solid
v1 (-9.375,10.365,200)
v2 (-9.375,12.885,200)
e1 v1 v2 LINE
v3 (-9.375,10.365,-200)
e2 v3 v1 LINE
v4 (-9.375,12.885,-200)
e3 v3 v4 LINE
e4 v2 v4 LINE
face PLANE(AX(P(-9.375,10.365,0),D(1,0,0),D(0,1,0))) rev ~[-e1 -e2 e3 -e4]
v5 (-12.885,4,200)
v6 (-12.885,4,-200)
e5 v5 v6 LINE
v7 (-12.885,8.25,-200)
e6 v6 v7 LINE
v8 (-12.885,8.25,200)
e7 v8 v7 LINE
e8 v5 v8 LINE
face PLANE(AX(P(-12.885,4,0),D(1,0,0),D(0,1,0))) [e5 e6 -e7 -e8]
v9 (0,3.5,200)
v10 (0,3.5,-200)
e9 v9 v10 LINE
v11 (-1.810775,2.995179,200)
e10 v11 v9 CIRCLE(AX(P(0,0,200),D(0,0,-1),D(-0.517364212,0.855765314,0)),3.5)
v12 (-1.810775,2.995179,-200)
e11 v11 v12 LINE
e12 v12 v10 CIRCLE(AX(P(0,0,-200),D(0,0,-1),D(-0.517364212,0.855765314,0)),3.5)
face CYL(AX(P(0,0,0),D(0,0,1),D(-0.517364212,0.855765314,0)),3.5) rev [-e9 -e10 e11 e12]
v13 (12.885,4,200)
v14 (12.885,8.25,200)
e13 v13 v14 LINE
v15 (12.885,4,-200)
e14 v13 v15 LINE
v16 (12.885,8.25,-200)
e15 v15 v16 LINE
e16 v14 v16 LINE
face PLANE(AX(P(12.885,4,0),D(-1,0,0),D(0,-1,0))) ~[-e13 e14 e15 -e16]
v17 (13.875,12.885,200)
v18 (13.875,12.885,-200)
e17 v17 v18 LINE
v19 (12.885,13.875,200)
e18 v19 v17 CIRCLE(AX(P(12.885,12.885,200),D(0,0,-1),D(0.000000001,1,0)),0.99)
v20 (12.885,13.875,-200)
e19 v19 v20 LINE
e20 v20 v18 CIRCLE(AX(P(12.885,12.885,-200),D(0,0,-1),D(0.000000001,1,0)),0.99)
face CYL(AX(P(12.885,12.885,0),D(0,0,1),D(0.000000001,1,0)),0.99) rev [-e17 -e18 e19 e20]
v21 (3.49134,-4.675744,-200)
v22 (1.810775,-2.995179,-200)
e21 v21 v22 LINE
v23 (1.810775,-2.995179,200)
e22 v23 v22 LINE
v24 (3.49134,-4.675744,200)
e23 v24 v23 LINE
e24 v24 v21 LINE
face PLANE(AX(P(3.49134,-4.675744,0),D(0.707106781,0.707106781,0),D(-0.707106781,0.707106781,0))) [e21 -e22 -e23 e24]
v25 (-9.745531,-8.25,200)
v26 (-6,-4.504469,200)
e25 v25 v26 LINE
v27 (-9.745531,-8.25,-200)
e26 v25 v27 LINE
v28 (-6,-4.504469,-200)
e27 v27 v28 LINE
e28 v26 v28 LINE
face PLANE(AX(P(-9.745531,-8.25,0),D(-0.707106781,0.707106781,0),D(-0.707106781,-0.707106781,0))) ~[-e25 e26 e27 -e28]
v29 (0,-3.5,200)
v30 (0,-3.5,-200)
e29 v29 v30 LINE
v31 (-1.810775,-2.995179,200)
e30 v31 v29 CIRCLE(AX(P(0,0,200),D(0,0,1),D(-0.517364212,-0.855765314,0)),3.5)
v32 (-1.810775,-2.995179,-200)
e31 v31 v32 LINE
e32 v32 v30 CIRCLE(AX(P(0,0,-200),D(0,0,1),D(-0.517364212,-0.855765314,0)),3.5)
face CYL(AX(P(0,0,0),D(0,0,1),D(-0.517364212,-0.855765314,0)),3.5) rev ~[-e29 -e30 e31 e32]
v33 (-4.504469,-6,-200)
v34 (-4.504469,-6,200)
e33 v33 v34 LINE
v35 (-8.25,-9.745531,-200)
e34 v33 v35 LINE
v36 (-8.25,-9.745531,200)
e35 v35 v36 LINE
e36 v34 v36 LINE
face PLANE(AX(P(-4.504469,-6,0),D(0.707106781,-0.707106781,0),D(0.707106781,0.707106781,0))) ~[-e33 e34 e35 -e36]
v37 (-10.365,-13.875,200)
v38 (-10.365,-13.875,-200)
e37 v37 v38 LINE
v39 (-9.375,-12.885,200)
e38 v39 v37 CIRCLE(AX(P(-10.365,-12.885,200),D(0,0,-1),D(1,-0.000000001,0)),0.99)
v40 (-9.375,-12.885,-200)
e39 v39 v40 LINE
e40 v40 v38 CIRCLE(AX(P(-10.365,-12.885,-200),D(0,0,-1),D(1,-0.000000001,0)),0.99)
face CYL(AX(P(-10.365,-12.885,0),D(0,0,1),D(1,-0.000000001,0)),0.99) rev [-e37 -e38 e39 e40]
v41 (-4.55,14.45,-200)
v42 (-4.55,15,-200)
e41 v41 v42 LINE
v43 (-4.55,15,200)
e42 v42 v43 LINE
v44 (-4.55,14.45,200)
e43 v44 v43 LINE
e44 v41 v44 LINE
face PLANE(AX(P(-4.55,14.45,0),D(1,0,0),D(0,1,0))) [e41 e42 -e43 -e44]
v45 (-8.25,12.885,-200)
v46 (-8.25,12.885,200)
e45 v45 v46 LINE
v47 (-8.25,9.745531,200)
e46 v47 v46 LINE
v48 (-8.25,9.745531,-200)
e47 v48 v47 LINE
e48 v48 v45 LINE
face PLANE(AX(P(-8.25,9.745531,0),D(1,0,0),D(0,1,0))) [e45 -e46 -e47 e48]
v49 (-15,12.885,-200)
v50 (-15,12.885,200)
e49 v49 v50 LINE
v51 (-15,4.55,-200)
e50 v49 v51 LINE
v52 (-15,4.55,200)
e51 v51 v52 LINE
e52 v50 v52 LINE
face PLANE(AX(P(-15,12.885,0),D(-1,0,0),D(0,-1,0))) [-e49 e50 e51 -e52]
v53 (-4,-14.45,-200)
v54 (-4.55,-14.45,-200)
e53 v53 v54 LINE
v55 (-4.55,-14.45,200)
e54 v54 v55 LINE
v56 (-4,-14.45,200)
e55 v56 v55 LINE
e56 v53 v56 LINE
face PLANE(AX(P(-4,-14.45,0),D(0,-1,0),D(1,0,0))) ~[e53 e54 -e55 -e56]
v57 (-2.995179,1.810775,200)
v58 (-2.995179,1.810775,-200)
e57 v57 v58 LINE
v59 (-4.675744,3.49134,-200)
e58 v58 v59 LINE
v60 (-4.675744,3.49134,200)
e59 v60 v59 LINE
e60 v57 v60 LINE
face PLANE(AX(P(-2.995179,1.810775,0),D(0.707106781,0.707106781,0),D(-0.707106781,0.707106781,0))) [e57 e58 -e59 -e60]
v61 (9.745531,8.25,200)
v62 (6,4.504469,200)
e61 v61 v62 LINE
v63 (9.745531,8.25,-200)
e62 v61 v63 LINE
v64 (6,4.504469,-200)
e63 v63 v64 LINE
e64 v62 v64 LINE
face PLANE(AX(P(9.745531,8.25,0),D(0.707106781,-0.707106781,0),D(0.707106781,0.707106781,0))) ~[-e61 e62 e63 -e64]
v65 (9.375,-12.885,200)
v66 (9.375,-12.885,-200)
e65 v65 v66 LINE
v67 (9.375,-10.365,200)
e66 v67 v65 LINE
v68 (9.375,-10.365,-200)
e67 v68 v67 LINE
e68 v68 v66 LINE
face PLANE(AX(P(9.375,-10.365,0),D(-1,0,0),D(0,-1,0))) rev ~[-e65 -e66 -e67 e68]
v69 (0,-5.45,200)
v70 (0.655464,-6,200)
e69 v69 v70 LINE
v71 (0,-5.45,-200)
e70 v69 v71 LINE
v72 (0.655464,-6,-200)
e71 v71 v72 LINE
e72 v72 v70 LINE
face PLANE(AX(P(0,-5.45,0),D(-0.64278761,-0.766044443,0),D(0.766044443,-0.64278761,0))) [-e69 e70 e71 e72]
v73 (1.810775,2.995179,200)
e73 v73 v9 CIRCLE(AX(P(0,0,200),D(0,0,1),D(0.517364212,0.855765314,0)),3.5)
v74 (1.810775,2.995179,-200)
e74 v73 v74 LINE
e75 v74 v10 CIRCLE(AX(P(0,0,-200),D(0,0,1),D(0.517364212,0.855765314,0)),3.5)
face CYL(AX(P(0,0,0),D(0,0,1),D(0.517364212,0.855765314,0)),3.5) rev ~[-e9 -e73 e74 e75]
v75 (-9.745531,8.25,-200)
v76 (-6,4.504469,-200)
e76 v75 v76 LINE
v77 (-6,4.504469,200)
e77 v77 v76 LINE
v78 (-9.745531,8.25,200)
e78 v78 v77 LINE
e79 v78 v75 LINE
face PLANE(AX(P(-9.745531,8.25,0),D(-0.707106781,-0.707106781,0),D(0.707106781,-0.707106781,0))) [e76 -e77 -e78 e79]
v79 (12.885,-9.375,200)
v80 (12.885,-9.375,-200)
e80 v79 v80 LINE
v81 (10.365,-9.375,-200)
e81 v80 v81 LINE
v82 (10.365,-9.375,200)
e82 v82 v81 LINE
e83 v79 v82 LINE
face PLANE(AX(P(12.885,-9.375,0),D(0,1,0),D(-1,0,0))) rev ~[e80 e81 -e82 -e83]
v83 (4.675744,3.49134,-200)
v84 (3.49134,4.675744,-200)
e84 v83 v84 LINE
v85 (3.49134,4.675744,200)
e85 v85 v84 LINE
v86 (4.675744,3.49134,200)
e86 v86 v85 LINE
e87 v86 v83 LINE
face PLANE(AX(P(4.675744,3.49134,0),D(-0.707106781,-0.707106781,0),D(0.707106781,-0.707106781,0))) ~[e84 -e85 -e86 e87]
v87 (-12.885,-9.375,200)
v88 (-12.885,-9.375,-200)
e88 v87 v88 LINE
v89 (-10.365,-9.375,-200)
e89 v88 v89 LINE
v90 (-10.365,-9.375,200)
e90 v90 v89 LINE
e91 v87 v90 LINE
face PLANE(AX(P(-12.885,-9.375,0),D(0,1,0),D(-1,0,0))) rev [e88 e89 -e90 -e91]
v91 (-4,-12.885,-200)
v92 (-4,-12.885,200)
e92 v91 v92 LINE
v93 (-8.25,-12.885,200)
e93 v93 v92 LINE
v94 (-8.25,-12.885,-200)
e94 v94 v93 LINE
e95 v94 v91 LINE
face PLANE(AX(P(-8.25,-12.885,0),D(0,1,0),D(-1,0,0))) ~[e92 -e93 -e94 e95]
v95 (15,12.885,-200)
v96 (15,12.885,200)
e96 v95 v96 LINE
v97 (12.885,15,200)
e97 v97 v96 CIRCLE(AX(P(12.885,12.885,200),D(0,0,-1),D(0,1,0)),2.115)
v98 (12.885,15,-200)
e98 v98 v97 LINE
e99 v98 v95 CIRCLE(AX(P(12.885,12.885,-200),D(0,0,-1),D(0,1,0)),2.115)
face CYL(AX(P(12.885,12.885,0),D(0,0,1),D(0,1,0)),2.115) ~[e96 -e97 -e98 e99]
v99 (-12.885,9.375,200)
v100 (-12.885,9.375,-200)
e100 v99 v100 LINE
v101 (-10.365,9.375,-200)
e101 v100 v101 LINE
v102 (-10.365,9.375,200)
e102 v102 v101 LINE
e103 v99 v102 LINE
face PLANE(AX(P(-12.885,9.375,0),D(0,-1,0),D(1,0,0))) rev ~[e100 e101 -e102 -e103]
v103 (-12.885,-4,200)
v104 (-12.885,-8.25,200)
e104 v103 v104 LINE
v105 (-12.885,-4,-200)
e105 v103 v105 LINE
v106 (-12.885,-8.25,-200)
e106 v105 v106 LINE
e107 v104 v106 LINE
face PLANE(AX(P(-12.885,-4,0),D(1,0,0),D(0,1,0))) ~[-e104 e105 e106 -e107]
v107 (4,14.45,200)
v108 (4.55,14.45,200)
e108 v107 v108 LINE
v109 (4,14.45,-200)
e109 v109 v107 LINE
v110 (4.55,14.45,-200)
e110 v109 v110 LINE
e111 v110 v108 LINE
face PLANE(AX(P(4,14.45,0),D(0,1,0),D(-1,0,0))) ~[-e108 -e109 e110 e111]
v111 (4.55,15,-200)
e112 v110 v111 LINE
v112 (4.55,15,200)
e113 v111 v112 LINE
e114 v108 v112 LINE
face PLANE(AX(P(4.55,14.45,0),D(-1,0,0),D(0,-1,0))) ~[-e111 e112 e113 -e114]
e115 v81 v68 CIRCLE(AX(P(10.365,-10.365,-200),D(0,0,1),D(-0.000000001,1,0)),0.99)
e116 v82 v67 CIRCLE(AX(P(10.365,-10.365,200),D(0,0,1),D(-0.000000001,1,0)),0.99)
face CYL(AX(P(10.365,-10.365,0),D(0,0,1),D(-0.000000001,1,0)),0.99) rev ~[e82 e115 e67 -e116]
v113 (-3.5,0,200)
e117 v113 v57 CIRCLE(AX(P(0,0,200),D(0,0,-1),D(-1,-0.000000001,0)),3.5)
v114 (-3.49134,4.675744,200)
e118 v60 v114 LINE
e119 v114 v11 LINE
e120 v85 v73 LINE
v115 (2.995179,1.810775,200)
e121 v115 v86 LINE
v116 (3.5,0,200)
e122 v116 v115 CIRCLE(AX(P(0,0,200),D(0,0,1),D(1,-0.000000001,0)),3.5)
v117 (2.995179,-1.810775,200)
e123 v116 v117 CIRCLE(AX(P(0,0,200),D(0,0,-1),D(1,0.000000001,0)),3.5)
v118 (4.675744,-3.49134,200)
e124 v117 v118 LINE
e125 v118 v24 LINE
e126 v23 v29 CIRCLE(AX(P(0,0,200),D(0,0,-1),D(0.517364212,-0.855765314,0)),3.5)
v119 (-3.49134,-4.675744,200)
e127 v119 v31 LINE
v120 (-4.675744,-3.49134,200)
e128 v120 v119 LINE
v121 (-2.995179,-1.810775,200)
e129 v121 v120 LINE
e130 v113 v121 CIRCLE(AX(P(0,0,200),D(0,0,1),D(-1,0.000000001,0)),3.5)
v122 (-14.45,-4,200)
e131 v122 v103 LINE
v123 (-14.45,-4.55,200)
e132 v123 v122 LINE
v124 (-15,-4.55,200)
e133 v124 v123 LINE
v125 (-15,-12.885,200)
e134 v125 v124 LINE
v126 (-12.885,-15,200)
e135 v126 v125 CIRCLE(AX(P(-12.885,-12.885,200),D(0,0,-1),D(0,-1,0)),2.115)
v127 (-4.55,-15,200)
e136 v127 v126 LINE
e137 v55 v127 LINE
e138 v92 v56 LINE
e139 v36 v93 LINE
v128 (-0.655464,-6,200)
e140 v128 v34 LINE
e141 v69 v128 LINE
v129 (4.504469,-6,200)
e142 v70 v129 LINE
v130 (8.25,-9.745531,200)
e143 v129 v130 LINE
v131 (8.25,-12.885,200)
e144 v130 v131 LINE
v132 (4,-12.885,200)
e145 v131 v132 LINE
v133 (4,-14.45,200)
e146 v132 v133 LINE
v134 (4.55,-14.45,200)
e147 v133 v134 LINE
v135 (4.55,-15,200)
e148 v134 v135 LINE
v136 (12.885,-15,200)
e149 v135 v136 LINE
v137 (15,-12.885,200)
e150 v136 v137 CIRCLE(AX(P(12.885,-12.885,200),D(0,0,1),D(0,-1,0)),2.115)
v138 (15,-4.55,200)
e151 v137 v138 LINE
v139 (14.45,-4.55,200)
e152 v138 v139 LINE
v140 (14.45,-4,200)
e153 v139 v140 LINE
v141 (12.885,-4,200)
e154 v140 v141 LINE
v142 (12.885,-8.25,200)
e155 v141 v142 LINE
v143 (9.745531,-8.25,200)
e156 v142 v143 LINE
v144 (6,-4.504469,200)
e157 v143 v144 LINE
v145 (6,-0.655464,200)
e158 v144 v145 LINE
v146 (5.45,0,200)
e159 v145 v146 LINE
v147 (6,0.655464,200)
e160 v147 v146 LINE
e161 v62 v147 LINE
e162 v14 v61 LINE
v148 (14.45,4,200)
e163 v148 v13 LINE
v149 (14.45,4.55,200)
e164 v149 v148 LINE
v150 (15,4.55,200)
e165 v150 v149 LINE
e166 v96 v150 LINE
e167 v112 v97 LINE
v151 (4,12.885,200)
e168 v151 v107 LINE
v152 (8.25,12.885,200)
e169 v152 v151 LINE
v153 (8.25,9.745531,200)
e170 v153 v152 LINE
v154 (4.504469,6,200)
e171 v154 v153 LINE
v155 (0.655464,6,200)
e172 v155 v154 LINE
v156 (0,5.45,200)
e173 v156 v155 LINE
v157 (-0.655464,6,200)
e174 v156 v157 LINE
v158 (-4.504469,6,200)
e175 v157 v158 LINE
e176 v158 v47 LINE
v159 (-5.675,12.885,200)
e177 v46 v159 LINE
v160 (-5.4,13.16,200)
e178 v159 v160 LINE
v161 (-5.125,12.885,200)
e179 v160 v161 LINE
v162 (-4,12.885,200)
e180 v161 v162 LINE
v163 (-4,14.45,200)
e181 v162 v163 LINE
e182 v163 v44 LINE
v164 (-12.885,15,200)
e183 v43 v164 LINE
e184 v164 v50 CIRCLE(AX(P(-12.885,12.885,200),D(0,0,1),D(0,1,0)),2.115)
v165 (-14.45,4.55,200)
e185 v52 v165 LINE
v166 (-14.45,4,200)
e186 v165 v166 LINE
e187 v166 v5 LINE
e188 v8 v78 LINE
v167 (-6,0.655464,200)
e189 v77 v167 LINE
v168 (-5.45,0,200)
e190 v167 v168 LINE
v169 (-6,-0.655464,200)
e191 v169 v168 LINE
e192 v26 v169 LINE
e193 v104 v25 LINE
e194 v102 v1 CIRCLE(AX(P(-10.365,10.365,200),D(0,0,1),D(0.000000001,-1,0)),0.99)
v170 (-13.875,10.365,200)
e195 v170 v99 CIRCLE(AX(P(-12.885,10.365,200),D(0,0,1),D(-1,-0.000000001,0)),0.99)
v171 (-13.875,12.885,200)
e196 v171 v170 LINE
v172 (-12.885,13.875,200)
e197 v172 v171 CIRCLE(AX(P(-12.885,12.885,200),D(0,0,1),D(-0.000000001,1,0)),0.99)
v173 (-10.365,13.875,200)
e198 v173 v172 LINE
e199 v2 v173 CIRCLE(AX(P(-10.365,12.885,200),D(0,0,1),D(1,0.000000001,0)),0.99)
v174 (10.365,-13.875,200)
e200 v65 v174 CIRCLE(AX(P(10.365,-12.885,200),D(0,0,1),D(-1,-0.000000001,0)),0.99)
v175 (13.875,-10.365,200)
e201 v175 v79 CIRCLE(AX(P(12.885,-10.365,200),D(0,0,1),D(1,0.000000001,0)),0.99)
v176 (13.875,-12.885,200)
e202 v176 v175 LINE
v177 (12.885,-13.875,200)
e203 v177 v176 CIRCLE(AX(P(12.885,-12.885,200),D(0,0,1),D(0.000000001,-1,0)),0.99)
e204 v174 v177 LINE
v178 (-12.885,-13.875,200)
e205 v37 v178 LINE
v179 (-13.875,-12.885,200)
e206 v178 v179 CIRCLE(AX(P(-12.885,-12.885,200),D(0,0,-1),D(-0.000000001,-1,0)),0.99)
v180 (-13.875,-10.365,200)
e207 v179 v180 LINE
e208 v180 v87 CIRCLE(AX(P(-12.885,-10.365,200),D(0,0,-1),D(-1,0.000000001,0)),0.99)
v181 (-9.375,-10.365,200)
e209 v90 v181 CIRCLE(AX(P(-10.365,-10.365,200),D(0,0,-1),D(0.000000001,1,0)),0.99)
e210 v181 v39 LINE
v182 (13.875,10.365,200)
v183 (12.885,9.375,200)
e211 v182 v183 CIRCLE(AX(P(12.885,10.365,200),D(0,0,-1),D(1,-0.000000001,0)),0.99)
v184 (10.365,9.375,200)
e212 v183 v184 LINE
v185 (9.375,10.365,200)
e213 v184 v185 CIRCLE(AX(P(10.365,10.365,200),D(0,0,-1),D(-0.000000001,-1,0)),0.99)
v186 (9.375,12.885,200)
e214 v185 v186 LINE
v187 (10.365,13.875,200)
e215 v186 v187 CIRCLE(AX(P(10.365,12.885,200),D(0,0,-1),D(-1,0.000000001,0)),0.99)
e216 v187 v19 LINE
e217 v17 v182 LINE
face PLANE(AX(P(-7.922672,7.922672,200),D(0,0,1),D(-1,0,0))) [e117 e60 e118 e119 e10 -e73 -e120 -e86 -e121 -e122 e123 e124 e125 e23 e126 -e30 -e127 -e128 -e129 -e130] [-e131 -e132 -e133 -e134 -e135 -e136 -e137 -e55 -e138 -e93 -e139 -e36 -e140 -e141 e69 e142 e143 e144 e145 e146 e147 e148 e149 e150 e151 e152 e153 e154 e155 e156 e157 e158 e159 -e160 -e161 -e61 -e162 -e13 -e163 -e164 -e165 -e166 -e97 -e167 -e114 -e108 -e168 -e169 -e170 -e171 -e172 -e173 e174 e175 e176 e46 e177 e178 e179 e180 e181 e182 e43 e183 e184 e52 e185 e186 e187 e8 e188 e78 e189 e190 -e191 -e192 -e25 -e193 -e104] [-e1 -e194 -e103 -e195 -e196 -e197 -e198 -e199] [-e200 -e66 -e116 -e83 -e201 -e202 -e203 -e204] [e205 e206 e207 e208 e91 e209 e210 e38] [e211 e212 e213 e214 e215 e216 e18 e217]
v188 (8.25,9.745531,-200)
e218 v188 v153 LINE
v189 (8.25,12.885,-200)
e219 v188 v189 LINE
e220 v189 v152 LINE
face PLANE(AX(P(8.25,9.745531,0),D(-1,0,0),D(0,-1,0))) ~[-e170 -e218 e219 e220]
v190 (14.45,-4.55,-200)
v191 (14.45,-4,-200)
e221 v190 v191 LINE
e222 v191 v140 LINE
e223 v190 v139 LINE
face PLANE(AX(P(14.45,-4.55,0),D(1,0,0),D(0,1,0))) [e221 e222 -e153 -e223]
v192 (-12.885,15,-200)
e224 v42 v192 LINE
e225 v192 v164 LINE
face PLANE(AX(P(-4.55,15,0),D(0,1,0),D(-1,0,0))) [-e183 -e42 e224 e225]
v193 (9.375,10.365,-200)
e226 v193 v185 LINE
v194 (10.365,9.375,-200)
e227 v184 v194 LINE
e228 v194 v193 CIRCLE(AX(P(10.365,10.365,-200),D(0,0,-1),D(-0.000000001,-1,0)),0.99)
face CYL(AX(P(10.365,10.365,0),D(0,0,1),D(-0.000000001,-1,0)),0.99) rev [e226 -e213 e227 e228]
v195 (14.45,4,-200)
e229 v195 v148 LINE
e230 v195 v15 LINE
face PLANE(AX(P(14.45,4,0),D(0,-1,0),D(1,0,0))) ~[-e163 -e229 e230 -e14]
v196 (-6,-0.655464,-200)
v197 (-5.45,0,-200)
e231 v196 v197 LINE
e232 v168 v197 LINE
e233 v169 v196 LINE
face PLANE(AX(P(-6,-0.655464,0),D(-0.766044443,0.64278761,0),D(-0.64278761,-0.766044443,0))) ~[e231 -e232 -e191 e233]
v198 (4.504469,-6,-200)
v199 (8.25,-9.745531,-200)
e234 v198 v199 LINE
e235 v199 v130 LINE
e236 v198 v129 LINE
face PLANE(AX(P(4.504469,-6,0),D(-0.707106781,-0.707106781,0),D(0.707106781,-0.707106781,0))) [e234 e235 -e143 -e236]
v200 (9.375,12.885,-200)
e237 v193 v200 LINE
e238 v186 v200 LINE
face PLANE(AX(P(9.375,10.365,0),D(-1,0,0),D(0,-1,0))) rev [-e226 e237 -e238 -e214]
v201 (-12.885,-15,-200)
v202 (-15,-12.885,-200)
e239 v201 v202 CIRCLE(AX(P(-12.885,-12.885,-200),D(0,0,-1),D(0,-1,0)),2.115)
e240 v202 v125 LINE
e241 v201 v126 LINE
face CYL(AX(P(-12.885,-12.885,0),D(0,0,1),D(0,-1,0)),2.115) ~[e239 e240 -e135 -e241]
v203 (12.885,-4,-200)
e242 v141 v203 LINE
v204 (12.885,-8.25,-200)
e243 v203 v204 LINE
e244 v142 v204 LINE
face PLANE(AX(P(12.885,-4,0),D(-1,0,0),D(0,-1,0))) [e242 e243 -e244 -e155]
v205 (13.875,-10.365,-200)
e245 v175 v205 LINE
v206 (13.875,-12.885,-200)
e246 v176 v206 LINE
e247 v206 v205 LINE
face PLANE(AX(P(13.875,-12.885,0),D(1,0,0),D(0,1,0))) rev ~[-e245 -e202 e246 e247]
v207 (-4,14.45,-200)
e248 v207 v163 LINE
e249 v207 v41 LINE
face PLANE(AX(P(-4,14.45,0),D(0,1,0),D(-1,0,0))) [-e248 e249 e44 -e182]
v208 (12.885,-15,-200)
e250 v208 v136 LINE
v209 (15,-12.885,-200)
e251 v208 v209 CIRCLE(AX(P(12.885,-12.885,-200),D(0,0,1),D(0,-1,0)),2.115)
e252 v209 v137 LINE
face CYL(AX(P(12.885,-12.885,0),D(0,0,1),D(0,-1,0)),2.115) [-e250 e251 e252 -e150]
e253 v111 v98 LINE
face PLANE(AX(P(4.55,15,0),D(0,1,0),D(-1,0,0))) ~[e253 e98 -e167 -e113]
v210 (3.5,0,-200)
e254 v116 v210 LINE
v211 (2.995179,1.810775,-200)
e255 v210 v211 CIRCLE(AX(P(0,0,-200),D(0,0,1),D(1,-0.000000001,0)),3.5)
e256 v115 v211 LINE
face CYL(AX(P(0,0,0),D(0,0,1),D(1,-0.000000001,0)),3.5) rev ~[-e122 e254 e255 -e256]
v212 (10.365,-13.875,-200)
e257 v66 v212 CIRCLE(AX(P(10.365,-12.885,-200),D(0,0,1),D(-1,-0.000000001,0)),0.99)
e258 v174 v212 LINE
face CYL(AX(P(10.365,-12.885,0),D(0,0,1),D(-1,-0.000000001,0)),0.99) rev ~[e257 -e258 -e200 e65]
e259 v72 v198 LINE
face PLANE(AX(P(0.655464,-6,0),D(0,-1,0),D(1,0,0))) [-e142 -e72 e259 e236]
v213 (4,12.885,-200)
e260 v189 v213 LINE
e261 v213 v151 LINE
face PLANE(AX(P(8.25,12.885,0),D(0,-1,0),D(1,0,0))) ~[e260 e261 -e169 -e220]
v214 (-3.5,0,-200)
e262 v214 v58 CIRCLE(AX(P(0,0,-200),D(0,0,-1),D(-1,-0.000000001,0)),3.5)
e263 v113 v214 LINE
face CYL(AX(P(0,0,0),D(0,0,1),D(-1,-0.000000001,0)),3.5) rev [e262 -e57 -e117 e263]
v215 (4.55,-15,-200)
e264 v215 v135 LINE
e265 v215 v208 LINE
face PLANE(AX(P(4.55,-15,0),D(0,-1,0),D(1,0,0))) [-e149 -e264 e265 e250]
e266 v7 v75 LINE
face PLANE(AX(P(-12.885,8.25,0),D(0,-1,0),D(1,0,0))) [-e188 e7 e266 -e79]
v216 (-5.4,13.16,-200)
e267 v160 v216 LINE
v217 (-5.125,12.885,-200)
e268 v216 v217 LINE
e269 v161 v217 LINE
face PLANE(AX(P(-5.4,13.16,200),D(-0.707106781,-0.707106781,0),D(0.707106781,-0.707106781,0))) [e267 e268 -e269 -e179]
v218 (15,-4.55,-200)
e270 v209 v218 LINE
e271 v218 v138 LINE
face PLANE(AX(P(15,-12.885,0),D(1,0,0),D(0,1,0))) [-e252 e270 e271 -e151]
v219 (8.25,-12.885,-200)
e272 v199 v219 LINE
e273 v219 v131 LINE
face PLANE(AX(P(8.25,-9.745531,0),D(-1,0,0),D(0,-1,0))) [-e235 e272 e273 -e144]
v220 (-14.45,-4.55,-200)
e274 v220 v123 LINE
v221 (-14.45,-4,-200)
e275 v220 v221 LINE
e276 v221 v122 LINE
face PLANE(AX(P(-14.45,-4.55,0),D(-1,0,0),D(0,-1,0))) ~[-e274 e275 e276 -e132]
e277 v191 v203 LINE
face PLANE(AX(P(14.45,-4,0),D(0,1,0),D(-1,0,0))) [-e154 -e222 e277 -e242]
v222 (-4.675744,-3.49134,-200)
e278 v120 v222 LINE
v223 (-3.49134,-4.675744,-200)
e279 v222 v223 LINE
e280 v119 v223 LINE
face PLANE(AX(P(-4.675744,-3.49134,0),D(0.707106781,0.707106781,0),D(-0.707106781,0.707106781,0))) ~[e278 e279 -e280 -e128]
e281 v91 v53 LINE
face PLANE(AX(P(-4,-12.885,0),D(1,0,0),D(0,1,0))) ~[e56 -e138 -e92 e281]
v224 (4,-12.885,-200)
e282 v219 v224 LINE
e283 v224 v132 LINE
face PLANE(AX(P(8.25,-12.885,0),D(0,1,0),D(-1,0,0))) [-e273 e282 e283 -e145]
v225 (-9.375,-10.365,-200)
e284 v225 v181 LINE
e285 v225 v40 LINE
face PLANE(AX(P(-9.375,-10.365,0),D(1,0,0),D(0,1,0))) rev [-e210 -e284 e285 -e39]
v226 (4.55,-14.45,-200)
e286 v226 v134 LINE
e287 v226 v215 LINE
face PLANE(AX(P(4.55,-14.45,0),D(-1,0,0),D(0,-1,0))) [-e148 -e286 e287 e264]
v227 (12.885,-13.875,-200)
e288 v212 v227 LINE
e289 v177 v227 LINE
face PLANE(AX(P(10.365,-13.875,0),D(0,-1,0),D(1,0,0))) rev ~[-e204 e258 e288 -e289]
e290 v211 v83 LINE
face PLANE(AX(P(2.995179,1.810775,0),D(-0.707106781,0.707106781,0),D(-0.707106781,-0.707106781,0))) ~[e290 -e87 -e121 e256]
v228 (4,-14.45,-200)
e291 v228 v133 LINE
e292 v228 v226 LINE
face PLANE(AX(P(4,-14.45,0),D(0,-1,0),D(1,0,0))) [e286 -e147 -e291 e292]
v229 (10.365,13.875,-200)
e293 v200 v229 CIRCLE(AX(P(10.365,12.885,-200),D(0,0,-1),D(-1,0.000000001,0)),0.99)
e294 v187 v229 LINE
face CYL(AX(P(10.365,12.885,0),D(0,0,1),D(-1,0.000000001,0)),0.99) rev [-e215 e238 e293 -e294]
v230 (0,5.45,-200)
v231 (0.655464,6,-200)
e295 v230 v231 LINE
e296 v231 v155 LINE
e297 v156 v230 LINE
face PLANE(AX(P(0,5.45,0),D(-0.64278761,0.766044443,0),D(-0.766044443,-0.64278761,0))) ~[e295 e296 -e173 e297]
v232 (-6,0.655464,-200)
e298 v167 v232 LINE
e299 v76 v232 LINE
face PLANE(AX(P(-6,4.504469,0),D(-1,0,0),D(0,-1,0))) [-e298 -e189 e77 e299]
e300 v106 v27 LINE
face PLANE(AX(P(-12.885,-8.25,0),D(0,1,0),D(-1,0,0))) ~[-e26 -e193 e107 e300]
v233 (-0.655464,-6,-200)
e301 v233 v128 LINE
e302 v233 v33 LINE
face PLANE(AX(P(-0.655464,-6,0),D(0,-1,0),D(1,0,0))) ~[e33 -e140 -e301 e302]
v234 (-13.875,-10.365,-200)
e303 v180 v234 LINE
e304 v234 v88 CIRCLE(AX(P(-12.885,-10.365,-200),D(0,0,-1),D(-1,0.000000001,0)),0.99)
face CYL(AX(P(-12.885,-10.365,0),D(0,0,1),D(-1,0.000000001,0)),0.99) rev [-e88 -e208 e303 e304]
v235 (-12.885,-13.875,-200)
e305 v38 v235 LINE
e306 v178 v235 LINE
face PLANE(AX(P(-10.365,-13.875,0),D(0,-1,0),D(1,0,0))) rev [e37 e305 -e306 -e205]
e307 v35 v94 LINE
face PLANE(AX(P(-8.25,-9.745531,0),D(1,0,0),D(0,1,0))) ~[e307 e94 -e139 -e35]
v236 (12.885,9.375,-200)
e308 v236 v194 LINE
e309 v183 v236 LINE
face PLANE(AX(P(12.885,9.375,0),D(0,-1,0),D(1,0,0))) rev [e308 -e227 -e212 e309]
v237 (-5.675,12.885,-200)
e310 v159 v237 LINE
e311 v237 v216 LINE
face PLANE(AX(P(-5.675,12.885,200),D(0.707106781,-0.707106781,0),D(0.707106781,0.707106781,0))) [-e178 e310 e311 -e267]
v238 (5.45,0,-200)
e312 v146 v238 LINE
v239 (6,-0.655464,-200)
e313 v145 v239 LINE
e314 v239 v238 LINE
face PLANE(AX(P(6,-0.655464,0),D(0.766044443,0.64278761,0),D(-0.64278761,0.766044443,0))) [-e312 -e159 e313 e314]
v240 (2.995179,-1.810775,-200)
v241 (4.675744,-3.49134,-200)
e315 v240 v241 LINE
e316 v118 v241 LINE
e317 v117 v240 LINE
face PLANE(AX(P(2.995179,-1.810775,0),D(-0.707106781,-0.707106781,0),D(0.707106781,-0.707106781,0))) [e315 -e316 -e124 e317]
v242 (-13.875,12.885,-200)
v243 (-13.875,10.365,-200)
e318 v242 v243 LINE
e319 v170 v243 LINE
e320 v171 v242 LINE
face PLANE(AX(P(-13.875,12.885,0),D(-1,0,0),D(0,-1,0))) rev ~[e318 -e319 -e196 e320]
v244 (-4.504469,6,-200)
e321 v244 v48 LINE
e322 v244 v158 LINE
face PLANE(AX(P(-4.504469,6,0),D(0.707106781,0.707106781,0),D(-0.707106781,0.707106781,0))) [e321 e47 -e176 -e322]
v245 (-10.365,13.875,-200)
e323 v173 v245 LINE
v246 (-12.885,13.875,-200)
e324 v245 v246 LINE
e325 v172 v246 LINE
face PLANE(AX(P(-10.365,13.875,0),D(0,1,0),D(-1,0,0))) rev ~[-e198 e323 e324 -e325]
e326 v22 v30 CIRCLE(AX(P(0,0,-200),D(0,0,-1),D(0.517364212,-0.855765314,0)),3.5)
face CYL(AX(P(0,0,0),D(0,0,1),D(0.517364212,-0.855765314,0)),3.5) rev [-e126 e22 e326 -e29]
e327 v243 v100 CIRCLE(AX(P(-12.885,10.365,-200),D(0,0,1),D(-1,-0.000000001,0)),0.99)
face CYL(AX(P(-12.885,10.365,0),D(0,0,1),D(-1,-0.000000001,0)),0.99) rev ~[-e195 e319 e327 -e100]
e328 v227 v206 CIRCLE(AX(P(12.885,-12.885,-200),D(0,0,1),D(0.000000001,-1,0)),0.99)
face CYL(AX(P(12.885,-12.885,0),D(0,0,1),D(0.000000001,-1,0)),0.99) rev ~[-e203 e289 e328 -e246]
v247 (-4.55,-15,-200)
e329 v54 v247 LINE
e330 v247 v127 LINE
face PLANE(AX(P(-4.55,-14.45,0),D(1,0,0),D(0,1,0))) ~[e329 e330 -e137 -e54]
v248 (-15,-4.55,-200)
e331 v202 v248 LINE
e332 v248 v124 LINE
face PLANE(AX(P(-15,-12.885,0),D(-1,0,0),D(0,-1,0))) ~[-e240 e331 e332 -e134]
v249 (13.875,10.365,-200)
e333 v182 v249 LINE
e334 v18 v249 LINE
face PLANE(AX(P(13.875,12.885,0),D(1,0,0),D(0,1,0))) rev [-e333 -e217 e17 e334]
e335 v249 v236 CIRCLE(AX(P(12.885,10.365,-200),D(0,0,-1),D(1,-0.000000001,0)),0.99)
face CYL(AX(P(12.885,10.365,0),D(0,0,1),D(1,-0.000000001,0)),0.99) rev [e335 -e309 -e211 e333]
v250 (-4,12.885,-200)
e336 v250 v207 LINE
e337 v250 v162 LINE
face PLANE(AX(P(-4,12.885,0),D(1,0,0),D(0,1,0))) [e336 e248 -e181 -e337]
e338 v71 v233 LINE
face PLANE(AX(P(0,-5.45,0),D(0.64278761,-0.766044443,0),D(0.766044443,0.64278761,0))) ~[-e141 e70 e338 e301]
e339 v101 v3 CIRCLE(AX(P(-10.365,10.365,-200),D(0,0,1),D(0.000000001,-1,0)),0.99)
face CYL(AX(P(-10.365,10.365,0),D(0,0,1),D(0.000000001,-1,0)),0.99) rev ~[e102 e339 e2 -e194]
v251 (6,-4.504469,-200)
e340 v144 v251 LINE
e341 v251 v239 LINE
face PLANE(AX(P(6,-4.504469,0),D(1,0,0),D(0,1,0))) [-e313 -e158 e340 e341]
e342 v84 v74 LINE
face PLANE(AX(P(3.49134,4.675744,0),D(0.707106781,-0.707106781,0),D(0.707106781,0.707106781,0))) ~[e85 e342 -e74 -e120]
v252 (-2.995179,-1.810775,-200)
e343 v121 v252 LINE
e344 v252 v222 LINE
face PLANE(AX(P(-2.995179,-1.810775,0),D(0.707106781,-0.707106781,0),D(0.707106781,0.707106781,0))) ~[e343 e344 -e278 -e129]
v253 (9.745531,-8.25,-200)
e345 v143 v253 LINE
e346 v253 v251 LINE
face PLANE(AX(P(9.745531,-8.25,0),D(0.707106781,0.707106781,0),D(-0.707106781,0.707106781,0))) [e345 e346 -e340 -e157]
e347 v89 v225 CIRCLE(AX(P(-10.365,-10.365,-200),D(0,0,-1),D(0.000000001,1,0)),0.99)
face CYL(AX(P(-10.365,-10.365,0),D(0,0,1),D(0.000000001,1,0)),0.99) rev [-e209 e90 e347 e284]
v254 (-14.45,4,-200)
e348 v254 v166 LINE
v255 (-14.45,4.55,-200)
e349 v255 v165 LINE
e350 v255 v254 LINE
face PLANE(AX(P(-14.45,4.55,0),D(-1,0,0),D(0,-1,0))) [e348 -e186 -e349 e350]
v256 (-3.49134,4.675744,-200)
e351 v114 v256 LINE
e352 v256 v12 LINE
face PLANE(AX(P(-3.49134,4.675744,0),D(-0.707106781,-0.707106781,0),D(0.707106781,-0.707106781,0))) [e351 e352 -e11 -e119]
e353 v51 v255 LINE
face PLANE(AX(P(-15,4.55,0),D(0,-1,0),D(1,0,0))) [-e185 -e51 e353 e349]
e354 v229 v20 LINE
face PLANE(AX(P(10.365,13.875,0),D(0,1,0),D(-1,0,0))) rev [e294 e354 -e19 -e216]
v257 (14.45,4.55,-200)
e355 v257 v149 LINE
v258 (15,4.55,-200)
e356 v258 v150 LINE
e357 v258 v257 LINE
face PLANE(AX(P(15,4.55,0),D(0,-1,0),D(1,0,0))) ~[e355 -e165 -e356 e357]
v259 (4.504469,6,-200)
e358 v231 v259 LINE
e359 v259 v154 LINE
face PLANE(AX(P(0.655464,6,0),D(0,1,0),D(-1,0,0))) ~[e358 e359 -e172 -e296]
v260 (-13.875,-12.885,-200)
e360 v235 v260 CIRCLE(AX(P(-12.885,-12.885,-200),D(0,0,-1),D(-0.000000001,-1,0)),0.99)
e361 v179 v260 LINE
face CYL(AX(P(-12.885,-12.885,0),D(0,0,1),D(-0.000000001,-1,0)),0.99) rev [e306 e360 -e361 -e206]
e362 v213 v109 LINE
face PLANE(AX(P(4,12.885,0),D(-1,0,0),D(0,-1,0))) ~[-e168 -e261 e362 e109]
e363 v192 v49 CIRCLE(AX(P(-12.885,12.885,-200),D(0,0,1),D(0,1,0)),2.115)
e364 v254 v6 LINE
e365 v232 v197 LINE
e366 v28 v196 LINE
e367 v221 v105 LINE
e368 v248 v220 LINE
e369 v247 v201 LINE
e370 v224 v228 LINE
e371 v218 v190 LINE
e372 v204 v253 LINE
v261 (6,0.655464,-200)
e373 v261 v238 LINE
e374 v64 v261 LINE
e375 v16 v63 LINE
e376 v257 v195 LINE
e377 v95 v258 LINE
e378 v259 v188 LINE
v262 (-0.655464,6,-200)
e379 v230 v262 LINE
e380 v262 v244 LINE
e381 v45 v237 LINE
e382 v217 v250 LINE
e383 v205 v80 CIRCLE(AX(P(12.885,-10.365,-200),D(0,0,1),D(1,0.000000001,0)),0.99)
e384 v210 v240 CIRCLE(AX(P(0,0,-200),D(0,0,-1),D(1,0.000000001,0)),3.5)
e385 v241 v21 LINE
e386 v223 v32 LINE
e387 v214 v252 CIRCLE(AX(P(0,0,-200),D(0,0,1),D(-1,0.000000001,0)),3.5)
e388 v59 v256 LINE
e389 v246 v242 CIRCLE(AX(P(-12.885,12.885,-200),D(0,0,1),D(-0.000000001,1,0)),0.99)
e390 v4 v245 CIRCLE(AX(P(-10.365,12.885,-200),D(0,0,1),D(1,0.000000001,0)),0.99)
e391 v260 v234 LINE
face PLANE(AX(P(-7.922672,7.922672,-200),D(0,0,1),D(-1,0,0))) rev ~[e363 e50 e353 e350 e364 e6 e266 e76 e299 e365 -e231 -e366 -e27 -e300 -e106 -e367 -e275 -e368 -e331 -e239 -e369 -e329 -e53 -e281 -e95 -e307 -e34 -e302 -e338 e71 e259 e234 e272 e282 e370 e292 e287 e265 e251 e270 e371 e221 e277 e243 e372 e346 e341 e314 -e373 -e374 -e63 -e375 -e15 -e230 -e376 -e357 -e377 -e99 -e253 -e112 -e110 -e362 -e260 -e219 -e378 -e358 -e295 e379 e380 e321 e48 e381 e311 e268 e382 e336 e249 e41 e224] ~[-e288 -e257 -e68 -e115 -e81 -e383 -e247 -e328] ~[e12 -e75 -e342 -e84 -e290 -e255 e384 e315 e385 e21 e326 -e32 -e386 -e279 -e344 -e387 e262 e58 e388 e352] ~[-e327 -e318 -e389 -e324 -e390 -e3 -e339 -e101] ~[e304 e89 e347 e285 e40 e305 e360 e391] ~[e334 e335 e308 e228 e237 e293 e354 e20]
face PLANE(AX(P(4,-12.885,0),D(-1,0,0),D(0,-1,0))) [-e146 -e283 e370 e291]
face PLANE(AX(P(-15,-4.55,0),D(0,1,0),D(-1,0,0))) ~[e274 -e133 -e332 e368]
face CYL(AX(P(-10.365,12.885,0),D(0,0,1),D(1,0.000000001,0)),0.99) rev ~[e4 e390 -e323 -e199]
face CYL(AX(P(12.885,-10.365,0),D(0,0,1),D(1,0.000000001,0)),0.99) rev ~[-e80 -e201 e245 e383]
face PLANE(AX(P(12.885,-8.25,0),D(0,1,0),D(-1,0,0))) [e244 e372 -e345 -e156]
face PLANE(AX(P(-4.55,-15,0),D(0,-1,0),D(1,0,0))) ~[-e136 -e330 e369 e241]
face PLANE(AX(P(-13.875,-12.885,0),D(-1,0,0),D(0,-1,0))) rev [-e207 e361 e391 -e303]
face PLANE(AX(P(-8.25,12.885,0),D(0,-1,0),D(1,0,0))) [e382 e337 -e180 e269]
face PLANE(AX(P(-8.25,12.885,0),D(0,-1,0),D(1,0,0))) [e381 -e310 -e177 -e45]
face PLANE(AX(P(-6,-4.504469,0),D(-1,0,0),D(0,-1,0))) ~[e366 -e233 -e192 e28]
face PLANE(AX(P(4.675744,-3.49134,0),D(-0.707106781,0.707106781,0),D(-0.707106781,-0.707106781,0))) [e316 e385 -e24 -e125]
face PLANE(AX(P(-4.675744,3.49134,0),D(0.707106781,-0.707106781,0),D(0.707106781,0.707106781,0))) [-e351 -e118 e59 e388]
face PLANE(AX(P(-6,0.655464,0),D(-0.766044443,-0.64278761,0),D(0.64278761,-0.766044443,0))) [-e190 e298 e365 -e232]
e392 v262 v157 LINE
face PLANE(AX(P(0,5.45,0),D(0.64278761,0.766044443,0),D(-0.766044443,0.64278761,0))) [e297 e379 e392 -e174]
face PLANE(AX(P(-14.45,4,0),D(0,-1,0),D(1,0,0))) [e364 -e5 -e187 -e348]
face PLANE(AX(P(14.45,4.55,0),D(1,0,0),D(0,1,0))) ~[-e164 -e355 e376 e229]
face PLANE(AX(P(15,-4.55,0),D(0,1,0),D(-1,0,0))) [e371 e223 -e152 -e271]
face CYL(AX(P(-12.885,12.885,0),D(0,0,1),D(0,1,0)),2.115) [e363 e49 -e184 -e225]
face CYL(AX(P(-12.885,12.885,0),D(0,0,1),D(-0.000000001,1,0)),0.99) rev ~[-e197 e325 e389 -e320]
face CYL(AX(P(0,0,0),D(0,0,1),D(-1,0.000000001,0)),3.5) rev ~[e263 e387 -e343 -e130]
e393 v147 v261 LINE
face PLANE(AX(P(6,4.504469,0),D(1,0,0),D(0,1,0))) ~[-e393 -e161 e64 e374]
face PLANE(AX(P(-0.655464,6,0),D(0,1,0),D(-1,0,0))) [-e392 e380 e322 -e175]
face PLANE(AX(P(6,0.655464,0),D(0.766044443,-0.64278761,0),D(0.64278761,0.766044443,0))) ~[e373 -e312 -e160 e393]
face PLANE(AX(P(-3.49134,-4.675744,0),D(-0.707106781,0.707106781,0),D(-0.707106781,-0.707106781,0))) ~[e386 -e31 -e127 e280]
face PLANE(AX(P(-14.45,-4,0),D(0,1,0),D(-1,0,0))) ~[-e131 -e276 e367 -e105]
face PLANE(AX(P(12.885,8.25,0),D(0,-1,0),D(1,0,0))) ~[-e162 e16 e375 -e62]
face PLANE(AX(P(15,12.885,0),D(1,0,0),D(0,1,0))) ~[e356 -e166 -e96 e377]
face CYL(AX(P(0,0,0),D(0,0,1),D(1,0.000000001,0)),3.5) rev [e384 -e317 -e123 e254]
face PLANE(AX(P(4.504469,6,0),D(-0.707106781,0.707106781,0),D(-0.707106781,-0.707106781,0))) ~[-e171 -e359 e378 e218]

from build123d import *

# Parameters (mm, degrees)
BOSS_EXTRUDE1_DEPTH     = 200
CUT_EXTRUDE1_DEPTH      = 1
CUT_EXTRUDE1_DEPTH_BACK = 401


with BuildPart() as part:
    # Sketch4 → Boss-Extrude1 (new body, symmetric)
    with BuildSketch(Plane.XY):
        with BuildLine():
            Line((0, -5.45), (0.655464476, -6))
            Line((0.655464476, -6), (4.504469158, -6))
            Line((4.504469158, -6), (8.25, -9.745530842))
            Line((8.25, -9.745530842), (8.25, -12.885))
            Line((8.25, -12.885), (4, -12.885))
            Line((4, -12.885), (4, -14.45))
            Line((4, -14.45), (4.55, -14.45))
            Line((4.55, -14.45), (4.55, -15))
            Line((4.55, -15), (12.885, -15))
            ThreePointArc((12.885, -15), (14.380530842, -14.380530842), (15, -12.885))
            Line((15, -12.885), (15, -4.55))
            Line((15, -4.55), (14.45, -4.55))
            Line((14.45, -4.55), (14.45, -4))
            Line((14.45, -4), (12.885, -4))
            Line((12.885, -4), (12.885, -8.25))
            Line((12.885, -8.25), (9.745530842, -8.25))
            Line((9.745530842, -8.25), (6, -4.504469158))
            Line((6, -4.504469158), (6, -0.655464476))
            Line((6, -0.655464476), (5.45, 0))
            Line((5.45, 0), (3.5, 0))
            ThreePointArc((3.5, 0), (3.371433308, -0.939913534), (2.995178599, -1.81077474))
            Line((2.995178599, -1.81077474), (4.675743591, -3.491339732))
            Line((4.675743591, -3.491339732), (3.491339732, -4.675743591))
            Line((3.491339732, -4.675743591), (1.81077474, -2.995178599))
            ThreePointArc((1.81077474, -2.995178599), (0.939913534, -3.371433308), (0, -3.5))
            Line((0, -3.5), (0, -5.45))
        make_face()
        with BuildLine():
            Line((9.375, -10.365), (9.375, -12.885))
            ThreePointArc((9.375, -12.885), (9.664964287, -13.585035713), (10.365, -13.875))
            Line((10.365, -13.875), (12.885, -13.875))
            ThreePointArc((12.885, -13.875), (13.585035713, -13.585035713), (13.875, -12.885))
            Line((13.875, -12.885), (13.875, -10.365))
            ThreePointArc((13.875, -10.365), (13.585035713, -9.664964287), (12.885, -9.375))
            Line((12.885, -9.375), (10.365, -9.375))
            ThreePointArc((10.365, -9.375), (9.664964287, -9.664964287), (9.375, -10.365))
        make_face(mode=Mode.SUBTRACT)
    extrude(amount=BOSS_EXTRUDE1_DEPTH, both=True)

    # Mirror1: part across plane


with BuildPart() as part_1:
    add(part.part)
    add(part.part.mirror(Plane(origin=(0, 0, 0), x_dir=(0, 0, 1), z_dir=(1, 0, 0))))

    # Mirror2: part across plane


with BuildPart() as part_2:
    add(part_1.part)
    add(part_1.part.mirror(Plane.ZX))

    # Sketch5 → Cut-Extrude1 (cut, two sides)
    with BuildSketch(Plane.XY.offset(200)) as cut_extrude1_sk:
        Polygon((-5.675, 12.885), (-5.4, 13.16), (-5.125, 12.885), align=None)
    extrude(amount=CUT_EXTRUDE1_DEPTH, mode=Mode.SUBTRACT)
    extrude(cut_extrude1_sk.sketch, amount=-CUT_EXTRUDE1_DEPTH_BACK, mode=Mode.SUBTRACT)


solid = part_2.part
